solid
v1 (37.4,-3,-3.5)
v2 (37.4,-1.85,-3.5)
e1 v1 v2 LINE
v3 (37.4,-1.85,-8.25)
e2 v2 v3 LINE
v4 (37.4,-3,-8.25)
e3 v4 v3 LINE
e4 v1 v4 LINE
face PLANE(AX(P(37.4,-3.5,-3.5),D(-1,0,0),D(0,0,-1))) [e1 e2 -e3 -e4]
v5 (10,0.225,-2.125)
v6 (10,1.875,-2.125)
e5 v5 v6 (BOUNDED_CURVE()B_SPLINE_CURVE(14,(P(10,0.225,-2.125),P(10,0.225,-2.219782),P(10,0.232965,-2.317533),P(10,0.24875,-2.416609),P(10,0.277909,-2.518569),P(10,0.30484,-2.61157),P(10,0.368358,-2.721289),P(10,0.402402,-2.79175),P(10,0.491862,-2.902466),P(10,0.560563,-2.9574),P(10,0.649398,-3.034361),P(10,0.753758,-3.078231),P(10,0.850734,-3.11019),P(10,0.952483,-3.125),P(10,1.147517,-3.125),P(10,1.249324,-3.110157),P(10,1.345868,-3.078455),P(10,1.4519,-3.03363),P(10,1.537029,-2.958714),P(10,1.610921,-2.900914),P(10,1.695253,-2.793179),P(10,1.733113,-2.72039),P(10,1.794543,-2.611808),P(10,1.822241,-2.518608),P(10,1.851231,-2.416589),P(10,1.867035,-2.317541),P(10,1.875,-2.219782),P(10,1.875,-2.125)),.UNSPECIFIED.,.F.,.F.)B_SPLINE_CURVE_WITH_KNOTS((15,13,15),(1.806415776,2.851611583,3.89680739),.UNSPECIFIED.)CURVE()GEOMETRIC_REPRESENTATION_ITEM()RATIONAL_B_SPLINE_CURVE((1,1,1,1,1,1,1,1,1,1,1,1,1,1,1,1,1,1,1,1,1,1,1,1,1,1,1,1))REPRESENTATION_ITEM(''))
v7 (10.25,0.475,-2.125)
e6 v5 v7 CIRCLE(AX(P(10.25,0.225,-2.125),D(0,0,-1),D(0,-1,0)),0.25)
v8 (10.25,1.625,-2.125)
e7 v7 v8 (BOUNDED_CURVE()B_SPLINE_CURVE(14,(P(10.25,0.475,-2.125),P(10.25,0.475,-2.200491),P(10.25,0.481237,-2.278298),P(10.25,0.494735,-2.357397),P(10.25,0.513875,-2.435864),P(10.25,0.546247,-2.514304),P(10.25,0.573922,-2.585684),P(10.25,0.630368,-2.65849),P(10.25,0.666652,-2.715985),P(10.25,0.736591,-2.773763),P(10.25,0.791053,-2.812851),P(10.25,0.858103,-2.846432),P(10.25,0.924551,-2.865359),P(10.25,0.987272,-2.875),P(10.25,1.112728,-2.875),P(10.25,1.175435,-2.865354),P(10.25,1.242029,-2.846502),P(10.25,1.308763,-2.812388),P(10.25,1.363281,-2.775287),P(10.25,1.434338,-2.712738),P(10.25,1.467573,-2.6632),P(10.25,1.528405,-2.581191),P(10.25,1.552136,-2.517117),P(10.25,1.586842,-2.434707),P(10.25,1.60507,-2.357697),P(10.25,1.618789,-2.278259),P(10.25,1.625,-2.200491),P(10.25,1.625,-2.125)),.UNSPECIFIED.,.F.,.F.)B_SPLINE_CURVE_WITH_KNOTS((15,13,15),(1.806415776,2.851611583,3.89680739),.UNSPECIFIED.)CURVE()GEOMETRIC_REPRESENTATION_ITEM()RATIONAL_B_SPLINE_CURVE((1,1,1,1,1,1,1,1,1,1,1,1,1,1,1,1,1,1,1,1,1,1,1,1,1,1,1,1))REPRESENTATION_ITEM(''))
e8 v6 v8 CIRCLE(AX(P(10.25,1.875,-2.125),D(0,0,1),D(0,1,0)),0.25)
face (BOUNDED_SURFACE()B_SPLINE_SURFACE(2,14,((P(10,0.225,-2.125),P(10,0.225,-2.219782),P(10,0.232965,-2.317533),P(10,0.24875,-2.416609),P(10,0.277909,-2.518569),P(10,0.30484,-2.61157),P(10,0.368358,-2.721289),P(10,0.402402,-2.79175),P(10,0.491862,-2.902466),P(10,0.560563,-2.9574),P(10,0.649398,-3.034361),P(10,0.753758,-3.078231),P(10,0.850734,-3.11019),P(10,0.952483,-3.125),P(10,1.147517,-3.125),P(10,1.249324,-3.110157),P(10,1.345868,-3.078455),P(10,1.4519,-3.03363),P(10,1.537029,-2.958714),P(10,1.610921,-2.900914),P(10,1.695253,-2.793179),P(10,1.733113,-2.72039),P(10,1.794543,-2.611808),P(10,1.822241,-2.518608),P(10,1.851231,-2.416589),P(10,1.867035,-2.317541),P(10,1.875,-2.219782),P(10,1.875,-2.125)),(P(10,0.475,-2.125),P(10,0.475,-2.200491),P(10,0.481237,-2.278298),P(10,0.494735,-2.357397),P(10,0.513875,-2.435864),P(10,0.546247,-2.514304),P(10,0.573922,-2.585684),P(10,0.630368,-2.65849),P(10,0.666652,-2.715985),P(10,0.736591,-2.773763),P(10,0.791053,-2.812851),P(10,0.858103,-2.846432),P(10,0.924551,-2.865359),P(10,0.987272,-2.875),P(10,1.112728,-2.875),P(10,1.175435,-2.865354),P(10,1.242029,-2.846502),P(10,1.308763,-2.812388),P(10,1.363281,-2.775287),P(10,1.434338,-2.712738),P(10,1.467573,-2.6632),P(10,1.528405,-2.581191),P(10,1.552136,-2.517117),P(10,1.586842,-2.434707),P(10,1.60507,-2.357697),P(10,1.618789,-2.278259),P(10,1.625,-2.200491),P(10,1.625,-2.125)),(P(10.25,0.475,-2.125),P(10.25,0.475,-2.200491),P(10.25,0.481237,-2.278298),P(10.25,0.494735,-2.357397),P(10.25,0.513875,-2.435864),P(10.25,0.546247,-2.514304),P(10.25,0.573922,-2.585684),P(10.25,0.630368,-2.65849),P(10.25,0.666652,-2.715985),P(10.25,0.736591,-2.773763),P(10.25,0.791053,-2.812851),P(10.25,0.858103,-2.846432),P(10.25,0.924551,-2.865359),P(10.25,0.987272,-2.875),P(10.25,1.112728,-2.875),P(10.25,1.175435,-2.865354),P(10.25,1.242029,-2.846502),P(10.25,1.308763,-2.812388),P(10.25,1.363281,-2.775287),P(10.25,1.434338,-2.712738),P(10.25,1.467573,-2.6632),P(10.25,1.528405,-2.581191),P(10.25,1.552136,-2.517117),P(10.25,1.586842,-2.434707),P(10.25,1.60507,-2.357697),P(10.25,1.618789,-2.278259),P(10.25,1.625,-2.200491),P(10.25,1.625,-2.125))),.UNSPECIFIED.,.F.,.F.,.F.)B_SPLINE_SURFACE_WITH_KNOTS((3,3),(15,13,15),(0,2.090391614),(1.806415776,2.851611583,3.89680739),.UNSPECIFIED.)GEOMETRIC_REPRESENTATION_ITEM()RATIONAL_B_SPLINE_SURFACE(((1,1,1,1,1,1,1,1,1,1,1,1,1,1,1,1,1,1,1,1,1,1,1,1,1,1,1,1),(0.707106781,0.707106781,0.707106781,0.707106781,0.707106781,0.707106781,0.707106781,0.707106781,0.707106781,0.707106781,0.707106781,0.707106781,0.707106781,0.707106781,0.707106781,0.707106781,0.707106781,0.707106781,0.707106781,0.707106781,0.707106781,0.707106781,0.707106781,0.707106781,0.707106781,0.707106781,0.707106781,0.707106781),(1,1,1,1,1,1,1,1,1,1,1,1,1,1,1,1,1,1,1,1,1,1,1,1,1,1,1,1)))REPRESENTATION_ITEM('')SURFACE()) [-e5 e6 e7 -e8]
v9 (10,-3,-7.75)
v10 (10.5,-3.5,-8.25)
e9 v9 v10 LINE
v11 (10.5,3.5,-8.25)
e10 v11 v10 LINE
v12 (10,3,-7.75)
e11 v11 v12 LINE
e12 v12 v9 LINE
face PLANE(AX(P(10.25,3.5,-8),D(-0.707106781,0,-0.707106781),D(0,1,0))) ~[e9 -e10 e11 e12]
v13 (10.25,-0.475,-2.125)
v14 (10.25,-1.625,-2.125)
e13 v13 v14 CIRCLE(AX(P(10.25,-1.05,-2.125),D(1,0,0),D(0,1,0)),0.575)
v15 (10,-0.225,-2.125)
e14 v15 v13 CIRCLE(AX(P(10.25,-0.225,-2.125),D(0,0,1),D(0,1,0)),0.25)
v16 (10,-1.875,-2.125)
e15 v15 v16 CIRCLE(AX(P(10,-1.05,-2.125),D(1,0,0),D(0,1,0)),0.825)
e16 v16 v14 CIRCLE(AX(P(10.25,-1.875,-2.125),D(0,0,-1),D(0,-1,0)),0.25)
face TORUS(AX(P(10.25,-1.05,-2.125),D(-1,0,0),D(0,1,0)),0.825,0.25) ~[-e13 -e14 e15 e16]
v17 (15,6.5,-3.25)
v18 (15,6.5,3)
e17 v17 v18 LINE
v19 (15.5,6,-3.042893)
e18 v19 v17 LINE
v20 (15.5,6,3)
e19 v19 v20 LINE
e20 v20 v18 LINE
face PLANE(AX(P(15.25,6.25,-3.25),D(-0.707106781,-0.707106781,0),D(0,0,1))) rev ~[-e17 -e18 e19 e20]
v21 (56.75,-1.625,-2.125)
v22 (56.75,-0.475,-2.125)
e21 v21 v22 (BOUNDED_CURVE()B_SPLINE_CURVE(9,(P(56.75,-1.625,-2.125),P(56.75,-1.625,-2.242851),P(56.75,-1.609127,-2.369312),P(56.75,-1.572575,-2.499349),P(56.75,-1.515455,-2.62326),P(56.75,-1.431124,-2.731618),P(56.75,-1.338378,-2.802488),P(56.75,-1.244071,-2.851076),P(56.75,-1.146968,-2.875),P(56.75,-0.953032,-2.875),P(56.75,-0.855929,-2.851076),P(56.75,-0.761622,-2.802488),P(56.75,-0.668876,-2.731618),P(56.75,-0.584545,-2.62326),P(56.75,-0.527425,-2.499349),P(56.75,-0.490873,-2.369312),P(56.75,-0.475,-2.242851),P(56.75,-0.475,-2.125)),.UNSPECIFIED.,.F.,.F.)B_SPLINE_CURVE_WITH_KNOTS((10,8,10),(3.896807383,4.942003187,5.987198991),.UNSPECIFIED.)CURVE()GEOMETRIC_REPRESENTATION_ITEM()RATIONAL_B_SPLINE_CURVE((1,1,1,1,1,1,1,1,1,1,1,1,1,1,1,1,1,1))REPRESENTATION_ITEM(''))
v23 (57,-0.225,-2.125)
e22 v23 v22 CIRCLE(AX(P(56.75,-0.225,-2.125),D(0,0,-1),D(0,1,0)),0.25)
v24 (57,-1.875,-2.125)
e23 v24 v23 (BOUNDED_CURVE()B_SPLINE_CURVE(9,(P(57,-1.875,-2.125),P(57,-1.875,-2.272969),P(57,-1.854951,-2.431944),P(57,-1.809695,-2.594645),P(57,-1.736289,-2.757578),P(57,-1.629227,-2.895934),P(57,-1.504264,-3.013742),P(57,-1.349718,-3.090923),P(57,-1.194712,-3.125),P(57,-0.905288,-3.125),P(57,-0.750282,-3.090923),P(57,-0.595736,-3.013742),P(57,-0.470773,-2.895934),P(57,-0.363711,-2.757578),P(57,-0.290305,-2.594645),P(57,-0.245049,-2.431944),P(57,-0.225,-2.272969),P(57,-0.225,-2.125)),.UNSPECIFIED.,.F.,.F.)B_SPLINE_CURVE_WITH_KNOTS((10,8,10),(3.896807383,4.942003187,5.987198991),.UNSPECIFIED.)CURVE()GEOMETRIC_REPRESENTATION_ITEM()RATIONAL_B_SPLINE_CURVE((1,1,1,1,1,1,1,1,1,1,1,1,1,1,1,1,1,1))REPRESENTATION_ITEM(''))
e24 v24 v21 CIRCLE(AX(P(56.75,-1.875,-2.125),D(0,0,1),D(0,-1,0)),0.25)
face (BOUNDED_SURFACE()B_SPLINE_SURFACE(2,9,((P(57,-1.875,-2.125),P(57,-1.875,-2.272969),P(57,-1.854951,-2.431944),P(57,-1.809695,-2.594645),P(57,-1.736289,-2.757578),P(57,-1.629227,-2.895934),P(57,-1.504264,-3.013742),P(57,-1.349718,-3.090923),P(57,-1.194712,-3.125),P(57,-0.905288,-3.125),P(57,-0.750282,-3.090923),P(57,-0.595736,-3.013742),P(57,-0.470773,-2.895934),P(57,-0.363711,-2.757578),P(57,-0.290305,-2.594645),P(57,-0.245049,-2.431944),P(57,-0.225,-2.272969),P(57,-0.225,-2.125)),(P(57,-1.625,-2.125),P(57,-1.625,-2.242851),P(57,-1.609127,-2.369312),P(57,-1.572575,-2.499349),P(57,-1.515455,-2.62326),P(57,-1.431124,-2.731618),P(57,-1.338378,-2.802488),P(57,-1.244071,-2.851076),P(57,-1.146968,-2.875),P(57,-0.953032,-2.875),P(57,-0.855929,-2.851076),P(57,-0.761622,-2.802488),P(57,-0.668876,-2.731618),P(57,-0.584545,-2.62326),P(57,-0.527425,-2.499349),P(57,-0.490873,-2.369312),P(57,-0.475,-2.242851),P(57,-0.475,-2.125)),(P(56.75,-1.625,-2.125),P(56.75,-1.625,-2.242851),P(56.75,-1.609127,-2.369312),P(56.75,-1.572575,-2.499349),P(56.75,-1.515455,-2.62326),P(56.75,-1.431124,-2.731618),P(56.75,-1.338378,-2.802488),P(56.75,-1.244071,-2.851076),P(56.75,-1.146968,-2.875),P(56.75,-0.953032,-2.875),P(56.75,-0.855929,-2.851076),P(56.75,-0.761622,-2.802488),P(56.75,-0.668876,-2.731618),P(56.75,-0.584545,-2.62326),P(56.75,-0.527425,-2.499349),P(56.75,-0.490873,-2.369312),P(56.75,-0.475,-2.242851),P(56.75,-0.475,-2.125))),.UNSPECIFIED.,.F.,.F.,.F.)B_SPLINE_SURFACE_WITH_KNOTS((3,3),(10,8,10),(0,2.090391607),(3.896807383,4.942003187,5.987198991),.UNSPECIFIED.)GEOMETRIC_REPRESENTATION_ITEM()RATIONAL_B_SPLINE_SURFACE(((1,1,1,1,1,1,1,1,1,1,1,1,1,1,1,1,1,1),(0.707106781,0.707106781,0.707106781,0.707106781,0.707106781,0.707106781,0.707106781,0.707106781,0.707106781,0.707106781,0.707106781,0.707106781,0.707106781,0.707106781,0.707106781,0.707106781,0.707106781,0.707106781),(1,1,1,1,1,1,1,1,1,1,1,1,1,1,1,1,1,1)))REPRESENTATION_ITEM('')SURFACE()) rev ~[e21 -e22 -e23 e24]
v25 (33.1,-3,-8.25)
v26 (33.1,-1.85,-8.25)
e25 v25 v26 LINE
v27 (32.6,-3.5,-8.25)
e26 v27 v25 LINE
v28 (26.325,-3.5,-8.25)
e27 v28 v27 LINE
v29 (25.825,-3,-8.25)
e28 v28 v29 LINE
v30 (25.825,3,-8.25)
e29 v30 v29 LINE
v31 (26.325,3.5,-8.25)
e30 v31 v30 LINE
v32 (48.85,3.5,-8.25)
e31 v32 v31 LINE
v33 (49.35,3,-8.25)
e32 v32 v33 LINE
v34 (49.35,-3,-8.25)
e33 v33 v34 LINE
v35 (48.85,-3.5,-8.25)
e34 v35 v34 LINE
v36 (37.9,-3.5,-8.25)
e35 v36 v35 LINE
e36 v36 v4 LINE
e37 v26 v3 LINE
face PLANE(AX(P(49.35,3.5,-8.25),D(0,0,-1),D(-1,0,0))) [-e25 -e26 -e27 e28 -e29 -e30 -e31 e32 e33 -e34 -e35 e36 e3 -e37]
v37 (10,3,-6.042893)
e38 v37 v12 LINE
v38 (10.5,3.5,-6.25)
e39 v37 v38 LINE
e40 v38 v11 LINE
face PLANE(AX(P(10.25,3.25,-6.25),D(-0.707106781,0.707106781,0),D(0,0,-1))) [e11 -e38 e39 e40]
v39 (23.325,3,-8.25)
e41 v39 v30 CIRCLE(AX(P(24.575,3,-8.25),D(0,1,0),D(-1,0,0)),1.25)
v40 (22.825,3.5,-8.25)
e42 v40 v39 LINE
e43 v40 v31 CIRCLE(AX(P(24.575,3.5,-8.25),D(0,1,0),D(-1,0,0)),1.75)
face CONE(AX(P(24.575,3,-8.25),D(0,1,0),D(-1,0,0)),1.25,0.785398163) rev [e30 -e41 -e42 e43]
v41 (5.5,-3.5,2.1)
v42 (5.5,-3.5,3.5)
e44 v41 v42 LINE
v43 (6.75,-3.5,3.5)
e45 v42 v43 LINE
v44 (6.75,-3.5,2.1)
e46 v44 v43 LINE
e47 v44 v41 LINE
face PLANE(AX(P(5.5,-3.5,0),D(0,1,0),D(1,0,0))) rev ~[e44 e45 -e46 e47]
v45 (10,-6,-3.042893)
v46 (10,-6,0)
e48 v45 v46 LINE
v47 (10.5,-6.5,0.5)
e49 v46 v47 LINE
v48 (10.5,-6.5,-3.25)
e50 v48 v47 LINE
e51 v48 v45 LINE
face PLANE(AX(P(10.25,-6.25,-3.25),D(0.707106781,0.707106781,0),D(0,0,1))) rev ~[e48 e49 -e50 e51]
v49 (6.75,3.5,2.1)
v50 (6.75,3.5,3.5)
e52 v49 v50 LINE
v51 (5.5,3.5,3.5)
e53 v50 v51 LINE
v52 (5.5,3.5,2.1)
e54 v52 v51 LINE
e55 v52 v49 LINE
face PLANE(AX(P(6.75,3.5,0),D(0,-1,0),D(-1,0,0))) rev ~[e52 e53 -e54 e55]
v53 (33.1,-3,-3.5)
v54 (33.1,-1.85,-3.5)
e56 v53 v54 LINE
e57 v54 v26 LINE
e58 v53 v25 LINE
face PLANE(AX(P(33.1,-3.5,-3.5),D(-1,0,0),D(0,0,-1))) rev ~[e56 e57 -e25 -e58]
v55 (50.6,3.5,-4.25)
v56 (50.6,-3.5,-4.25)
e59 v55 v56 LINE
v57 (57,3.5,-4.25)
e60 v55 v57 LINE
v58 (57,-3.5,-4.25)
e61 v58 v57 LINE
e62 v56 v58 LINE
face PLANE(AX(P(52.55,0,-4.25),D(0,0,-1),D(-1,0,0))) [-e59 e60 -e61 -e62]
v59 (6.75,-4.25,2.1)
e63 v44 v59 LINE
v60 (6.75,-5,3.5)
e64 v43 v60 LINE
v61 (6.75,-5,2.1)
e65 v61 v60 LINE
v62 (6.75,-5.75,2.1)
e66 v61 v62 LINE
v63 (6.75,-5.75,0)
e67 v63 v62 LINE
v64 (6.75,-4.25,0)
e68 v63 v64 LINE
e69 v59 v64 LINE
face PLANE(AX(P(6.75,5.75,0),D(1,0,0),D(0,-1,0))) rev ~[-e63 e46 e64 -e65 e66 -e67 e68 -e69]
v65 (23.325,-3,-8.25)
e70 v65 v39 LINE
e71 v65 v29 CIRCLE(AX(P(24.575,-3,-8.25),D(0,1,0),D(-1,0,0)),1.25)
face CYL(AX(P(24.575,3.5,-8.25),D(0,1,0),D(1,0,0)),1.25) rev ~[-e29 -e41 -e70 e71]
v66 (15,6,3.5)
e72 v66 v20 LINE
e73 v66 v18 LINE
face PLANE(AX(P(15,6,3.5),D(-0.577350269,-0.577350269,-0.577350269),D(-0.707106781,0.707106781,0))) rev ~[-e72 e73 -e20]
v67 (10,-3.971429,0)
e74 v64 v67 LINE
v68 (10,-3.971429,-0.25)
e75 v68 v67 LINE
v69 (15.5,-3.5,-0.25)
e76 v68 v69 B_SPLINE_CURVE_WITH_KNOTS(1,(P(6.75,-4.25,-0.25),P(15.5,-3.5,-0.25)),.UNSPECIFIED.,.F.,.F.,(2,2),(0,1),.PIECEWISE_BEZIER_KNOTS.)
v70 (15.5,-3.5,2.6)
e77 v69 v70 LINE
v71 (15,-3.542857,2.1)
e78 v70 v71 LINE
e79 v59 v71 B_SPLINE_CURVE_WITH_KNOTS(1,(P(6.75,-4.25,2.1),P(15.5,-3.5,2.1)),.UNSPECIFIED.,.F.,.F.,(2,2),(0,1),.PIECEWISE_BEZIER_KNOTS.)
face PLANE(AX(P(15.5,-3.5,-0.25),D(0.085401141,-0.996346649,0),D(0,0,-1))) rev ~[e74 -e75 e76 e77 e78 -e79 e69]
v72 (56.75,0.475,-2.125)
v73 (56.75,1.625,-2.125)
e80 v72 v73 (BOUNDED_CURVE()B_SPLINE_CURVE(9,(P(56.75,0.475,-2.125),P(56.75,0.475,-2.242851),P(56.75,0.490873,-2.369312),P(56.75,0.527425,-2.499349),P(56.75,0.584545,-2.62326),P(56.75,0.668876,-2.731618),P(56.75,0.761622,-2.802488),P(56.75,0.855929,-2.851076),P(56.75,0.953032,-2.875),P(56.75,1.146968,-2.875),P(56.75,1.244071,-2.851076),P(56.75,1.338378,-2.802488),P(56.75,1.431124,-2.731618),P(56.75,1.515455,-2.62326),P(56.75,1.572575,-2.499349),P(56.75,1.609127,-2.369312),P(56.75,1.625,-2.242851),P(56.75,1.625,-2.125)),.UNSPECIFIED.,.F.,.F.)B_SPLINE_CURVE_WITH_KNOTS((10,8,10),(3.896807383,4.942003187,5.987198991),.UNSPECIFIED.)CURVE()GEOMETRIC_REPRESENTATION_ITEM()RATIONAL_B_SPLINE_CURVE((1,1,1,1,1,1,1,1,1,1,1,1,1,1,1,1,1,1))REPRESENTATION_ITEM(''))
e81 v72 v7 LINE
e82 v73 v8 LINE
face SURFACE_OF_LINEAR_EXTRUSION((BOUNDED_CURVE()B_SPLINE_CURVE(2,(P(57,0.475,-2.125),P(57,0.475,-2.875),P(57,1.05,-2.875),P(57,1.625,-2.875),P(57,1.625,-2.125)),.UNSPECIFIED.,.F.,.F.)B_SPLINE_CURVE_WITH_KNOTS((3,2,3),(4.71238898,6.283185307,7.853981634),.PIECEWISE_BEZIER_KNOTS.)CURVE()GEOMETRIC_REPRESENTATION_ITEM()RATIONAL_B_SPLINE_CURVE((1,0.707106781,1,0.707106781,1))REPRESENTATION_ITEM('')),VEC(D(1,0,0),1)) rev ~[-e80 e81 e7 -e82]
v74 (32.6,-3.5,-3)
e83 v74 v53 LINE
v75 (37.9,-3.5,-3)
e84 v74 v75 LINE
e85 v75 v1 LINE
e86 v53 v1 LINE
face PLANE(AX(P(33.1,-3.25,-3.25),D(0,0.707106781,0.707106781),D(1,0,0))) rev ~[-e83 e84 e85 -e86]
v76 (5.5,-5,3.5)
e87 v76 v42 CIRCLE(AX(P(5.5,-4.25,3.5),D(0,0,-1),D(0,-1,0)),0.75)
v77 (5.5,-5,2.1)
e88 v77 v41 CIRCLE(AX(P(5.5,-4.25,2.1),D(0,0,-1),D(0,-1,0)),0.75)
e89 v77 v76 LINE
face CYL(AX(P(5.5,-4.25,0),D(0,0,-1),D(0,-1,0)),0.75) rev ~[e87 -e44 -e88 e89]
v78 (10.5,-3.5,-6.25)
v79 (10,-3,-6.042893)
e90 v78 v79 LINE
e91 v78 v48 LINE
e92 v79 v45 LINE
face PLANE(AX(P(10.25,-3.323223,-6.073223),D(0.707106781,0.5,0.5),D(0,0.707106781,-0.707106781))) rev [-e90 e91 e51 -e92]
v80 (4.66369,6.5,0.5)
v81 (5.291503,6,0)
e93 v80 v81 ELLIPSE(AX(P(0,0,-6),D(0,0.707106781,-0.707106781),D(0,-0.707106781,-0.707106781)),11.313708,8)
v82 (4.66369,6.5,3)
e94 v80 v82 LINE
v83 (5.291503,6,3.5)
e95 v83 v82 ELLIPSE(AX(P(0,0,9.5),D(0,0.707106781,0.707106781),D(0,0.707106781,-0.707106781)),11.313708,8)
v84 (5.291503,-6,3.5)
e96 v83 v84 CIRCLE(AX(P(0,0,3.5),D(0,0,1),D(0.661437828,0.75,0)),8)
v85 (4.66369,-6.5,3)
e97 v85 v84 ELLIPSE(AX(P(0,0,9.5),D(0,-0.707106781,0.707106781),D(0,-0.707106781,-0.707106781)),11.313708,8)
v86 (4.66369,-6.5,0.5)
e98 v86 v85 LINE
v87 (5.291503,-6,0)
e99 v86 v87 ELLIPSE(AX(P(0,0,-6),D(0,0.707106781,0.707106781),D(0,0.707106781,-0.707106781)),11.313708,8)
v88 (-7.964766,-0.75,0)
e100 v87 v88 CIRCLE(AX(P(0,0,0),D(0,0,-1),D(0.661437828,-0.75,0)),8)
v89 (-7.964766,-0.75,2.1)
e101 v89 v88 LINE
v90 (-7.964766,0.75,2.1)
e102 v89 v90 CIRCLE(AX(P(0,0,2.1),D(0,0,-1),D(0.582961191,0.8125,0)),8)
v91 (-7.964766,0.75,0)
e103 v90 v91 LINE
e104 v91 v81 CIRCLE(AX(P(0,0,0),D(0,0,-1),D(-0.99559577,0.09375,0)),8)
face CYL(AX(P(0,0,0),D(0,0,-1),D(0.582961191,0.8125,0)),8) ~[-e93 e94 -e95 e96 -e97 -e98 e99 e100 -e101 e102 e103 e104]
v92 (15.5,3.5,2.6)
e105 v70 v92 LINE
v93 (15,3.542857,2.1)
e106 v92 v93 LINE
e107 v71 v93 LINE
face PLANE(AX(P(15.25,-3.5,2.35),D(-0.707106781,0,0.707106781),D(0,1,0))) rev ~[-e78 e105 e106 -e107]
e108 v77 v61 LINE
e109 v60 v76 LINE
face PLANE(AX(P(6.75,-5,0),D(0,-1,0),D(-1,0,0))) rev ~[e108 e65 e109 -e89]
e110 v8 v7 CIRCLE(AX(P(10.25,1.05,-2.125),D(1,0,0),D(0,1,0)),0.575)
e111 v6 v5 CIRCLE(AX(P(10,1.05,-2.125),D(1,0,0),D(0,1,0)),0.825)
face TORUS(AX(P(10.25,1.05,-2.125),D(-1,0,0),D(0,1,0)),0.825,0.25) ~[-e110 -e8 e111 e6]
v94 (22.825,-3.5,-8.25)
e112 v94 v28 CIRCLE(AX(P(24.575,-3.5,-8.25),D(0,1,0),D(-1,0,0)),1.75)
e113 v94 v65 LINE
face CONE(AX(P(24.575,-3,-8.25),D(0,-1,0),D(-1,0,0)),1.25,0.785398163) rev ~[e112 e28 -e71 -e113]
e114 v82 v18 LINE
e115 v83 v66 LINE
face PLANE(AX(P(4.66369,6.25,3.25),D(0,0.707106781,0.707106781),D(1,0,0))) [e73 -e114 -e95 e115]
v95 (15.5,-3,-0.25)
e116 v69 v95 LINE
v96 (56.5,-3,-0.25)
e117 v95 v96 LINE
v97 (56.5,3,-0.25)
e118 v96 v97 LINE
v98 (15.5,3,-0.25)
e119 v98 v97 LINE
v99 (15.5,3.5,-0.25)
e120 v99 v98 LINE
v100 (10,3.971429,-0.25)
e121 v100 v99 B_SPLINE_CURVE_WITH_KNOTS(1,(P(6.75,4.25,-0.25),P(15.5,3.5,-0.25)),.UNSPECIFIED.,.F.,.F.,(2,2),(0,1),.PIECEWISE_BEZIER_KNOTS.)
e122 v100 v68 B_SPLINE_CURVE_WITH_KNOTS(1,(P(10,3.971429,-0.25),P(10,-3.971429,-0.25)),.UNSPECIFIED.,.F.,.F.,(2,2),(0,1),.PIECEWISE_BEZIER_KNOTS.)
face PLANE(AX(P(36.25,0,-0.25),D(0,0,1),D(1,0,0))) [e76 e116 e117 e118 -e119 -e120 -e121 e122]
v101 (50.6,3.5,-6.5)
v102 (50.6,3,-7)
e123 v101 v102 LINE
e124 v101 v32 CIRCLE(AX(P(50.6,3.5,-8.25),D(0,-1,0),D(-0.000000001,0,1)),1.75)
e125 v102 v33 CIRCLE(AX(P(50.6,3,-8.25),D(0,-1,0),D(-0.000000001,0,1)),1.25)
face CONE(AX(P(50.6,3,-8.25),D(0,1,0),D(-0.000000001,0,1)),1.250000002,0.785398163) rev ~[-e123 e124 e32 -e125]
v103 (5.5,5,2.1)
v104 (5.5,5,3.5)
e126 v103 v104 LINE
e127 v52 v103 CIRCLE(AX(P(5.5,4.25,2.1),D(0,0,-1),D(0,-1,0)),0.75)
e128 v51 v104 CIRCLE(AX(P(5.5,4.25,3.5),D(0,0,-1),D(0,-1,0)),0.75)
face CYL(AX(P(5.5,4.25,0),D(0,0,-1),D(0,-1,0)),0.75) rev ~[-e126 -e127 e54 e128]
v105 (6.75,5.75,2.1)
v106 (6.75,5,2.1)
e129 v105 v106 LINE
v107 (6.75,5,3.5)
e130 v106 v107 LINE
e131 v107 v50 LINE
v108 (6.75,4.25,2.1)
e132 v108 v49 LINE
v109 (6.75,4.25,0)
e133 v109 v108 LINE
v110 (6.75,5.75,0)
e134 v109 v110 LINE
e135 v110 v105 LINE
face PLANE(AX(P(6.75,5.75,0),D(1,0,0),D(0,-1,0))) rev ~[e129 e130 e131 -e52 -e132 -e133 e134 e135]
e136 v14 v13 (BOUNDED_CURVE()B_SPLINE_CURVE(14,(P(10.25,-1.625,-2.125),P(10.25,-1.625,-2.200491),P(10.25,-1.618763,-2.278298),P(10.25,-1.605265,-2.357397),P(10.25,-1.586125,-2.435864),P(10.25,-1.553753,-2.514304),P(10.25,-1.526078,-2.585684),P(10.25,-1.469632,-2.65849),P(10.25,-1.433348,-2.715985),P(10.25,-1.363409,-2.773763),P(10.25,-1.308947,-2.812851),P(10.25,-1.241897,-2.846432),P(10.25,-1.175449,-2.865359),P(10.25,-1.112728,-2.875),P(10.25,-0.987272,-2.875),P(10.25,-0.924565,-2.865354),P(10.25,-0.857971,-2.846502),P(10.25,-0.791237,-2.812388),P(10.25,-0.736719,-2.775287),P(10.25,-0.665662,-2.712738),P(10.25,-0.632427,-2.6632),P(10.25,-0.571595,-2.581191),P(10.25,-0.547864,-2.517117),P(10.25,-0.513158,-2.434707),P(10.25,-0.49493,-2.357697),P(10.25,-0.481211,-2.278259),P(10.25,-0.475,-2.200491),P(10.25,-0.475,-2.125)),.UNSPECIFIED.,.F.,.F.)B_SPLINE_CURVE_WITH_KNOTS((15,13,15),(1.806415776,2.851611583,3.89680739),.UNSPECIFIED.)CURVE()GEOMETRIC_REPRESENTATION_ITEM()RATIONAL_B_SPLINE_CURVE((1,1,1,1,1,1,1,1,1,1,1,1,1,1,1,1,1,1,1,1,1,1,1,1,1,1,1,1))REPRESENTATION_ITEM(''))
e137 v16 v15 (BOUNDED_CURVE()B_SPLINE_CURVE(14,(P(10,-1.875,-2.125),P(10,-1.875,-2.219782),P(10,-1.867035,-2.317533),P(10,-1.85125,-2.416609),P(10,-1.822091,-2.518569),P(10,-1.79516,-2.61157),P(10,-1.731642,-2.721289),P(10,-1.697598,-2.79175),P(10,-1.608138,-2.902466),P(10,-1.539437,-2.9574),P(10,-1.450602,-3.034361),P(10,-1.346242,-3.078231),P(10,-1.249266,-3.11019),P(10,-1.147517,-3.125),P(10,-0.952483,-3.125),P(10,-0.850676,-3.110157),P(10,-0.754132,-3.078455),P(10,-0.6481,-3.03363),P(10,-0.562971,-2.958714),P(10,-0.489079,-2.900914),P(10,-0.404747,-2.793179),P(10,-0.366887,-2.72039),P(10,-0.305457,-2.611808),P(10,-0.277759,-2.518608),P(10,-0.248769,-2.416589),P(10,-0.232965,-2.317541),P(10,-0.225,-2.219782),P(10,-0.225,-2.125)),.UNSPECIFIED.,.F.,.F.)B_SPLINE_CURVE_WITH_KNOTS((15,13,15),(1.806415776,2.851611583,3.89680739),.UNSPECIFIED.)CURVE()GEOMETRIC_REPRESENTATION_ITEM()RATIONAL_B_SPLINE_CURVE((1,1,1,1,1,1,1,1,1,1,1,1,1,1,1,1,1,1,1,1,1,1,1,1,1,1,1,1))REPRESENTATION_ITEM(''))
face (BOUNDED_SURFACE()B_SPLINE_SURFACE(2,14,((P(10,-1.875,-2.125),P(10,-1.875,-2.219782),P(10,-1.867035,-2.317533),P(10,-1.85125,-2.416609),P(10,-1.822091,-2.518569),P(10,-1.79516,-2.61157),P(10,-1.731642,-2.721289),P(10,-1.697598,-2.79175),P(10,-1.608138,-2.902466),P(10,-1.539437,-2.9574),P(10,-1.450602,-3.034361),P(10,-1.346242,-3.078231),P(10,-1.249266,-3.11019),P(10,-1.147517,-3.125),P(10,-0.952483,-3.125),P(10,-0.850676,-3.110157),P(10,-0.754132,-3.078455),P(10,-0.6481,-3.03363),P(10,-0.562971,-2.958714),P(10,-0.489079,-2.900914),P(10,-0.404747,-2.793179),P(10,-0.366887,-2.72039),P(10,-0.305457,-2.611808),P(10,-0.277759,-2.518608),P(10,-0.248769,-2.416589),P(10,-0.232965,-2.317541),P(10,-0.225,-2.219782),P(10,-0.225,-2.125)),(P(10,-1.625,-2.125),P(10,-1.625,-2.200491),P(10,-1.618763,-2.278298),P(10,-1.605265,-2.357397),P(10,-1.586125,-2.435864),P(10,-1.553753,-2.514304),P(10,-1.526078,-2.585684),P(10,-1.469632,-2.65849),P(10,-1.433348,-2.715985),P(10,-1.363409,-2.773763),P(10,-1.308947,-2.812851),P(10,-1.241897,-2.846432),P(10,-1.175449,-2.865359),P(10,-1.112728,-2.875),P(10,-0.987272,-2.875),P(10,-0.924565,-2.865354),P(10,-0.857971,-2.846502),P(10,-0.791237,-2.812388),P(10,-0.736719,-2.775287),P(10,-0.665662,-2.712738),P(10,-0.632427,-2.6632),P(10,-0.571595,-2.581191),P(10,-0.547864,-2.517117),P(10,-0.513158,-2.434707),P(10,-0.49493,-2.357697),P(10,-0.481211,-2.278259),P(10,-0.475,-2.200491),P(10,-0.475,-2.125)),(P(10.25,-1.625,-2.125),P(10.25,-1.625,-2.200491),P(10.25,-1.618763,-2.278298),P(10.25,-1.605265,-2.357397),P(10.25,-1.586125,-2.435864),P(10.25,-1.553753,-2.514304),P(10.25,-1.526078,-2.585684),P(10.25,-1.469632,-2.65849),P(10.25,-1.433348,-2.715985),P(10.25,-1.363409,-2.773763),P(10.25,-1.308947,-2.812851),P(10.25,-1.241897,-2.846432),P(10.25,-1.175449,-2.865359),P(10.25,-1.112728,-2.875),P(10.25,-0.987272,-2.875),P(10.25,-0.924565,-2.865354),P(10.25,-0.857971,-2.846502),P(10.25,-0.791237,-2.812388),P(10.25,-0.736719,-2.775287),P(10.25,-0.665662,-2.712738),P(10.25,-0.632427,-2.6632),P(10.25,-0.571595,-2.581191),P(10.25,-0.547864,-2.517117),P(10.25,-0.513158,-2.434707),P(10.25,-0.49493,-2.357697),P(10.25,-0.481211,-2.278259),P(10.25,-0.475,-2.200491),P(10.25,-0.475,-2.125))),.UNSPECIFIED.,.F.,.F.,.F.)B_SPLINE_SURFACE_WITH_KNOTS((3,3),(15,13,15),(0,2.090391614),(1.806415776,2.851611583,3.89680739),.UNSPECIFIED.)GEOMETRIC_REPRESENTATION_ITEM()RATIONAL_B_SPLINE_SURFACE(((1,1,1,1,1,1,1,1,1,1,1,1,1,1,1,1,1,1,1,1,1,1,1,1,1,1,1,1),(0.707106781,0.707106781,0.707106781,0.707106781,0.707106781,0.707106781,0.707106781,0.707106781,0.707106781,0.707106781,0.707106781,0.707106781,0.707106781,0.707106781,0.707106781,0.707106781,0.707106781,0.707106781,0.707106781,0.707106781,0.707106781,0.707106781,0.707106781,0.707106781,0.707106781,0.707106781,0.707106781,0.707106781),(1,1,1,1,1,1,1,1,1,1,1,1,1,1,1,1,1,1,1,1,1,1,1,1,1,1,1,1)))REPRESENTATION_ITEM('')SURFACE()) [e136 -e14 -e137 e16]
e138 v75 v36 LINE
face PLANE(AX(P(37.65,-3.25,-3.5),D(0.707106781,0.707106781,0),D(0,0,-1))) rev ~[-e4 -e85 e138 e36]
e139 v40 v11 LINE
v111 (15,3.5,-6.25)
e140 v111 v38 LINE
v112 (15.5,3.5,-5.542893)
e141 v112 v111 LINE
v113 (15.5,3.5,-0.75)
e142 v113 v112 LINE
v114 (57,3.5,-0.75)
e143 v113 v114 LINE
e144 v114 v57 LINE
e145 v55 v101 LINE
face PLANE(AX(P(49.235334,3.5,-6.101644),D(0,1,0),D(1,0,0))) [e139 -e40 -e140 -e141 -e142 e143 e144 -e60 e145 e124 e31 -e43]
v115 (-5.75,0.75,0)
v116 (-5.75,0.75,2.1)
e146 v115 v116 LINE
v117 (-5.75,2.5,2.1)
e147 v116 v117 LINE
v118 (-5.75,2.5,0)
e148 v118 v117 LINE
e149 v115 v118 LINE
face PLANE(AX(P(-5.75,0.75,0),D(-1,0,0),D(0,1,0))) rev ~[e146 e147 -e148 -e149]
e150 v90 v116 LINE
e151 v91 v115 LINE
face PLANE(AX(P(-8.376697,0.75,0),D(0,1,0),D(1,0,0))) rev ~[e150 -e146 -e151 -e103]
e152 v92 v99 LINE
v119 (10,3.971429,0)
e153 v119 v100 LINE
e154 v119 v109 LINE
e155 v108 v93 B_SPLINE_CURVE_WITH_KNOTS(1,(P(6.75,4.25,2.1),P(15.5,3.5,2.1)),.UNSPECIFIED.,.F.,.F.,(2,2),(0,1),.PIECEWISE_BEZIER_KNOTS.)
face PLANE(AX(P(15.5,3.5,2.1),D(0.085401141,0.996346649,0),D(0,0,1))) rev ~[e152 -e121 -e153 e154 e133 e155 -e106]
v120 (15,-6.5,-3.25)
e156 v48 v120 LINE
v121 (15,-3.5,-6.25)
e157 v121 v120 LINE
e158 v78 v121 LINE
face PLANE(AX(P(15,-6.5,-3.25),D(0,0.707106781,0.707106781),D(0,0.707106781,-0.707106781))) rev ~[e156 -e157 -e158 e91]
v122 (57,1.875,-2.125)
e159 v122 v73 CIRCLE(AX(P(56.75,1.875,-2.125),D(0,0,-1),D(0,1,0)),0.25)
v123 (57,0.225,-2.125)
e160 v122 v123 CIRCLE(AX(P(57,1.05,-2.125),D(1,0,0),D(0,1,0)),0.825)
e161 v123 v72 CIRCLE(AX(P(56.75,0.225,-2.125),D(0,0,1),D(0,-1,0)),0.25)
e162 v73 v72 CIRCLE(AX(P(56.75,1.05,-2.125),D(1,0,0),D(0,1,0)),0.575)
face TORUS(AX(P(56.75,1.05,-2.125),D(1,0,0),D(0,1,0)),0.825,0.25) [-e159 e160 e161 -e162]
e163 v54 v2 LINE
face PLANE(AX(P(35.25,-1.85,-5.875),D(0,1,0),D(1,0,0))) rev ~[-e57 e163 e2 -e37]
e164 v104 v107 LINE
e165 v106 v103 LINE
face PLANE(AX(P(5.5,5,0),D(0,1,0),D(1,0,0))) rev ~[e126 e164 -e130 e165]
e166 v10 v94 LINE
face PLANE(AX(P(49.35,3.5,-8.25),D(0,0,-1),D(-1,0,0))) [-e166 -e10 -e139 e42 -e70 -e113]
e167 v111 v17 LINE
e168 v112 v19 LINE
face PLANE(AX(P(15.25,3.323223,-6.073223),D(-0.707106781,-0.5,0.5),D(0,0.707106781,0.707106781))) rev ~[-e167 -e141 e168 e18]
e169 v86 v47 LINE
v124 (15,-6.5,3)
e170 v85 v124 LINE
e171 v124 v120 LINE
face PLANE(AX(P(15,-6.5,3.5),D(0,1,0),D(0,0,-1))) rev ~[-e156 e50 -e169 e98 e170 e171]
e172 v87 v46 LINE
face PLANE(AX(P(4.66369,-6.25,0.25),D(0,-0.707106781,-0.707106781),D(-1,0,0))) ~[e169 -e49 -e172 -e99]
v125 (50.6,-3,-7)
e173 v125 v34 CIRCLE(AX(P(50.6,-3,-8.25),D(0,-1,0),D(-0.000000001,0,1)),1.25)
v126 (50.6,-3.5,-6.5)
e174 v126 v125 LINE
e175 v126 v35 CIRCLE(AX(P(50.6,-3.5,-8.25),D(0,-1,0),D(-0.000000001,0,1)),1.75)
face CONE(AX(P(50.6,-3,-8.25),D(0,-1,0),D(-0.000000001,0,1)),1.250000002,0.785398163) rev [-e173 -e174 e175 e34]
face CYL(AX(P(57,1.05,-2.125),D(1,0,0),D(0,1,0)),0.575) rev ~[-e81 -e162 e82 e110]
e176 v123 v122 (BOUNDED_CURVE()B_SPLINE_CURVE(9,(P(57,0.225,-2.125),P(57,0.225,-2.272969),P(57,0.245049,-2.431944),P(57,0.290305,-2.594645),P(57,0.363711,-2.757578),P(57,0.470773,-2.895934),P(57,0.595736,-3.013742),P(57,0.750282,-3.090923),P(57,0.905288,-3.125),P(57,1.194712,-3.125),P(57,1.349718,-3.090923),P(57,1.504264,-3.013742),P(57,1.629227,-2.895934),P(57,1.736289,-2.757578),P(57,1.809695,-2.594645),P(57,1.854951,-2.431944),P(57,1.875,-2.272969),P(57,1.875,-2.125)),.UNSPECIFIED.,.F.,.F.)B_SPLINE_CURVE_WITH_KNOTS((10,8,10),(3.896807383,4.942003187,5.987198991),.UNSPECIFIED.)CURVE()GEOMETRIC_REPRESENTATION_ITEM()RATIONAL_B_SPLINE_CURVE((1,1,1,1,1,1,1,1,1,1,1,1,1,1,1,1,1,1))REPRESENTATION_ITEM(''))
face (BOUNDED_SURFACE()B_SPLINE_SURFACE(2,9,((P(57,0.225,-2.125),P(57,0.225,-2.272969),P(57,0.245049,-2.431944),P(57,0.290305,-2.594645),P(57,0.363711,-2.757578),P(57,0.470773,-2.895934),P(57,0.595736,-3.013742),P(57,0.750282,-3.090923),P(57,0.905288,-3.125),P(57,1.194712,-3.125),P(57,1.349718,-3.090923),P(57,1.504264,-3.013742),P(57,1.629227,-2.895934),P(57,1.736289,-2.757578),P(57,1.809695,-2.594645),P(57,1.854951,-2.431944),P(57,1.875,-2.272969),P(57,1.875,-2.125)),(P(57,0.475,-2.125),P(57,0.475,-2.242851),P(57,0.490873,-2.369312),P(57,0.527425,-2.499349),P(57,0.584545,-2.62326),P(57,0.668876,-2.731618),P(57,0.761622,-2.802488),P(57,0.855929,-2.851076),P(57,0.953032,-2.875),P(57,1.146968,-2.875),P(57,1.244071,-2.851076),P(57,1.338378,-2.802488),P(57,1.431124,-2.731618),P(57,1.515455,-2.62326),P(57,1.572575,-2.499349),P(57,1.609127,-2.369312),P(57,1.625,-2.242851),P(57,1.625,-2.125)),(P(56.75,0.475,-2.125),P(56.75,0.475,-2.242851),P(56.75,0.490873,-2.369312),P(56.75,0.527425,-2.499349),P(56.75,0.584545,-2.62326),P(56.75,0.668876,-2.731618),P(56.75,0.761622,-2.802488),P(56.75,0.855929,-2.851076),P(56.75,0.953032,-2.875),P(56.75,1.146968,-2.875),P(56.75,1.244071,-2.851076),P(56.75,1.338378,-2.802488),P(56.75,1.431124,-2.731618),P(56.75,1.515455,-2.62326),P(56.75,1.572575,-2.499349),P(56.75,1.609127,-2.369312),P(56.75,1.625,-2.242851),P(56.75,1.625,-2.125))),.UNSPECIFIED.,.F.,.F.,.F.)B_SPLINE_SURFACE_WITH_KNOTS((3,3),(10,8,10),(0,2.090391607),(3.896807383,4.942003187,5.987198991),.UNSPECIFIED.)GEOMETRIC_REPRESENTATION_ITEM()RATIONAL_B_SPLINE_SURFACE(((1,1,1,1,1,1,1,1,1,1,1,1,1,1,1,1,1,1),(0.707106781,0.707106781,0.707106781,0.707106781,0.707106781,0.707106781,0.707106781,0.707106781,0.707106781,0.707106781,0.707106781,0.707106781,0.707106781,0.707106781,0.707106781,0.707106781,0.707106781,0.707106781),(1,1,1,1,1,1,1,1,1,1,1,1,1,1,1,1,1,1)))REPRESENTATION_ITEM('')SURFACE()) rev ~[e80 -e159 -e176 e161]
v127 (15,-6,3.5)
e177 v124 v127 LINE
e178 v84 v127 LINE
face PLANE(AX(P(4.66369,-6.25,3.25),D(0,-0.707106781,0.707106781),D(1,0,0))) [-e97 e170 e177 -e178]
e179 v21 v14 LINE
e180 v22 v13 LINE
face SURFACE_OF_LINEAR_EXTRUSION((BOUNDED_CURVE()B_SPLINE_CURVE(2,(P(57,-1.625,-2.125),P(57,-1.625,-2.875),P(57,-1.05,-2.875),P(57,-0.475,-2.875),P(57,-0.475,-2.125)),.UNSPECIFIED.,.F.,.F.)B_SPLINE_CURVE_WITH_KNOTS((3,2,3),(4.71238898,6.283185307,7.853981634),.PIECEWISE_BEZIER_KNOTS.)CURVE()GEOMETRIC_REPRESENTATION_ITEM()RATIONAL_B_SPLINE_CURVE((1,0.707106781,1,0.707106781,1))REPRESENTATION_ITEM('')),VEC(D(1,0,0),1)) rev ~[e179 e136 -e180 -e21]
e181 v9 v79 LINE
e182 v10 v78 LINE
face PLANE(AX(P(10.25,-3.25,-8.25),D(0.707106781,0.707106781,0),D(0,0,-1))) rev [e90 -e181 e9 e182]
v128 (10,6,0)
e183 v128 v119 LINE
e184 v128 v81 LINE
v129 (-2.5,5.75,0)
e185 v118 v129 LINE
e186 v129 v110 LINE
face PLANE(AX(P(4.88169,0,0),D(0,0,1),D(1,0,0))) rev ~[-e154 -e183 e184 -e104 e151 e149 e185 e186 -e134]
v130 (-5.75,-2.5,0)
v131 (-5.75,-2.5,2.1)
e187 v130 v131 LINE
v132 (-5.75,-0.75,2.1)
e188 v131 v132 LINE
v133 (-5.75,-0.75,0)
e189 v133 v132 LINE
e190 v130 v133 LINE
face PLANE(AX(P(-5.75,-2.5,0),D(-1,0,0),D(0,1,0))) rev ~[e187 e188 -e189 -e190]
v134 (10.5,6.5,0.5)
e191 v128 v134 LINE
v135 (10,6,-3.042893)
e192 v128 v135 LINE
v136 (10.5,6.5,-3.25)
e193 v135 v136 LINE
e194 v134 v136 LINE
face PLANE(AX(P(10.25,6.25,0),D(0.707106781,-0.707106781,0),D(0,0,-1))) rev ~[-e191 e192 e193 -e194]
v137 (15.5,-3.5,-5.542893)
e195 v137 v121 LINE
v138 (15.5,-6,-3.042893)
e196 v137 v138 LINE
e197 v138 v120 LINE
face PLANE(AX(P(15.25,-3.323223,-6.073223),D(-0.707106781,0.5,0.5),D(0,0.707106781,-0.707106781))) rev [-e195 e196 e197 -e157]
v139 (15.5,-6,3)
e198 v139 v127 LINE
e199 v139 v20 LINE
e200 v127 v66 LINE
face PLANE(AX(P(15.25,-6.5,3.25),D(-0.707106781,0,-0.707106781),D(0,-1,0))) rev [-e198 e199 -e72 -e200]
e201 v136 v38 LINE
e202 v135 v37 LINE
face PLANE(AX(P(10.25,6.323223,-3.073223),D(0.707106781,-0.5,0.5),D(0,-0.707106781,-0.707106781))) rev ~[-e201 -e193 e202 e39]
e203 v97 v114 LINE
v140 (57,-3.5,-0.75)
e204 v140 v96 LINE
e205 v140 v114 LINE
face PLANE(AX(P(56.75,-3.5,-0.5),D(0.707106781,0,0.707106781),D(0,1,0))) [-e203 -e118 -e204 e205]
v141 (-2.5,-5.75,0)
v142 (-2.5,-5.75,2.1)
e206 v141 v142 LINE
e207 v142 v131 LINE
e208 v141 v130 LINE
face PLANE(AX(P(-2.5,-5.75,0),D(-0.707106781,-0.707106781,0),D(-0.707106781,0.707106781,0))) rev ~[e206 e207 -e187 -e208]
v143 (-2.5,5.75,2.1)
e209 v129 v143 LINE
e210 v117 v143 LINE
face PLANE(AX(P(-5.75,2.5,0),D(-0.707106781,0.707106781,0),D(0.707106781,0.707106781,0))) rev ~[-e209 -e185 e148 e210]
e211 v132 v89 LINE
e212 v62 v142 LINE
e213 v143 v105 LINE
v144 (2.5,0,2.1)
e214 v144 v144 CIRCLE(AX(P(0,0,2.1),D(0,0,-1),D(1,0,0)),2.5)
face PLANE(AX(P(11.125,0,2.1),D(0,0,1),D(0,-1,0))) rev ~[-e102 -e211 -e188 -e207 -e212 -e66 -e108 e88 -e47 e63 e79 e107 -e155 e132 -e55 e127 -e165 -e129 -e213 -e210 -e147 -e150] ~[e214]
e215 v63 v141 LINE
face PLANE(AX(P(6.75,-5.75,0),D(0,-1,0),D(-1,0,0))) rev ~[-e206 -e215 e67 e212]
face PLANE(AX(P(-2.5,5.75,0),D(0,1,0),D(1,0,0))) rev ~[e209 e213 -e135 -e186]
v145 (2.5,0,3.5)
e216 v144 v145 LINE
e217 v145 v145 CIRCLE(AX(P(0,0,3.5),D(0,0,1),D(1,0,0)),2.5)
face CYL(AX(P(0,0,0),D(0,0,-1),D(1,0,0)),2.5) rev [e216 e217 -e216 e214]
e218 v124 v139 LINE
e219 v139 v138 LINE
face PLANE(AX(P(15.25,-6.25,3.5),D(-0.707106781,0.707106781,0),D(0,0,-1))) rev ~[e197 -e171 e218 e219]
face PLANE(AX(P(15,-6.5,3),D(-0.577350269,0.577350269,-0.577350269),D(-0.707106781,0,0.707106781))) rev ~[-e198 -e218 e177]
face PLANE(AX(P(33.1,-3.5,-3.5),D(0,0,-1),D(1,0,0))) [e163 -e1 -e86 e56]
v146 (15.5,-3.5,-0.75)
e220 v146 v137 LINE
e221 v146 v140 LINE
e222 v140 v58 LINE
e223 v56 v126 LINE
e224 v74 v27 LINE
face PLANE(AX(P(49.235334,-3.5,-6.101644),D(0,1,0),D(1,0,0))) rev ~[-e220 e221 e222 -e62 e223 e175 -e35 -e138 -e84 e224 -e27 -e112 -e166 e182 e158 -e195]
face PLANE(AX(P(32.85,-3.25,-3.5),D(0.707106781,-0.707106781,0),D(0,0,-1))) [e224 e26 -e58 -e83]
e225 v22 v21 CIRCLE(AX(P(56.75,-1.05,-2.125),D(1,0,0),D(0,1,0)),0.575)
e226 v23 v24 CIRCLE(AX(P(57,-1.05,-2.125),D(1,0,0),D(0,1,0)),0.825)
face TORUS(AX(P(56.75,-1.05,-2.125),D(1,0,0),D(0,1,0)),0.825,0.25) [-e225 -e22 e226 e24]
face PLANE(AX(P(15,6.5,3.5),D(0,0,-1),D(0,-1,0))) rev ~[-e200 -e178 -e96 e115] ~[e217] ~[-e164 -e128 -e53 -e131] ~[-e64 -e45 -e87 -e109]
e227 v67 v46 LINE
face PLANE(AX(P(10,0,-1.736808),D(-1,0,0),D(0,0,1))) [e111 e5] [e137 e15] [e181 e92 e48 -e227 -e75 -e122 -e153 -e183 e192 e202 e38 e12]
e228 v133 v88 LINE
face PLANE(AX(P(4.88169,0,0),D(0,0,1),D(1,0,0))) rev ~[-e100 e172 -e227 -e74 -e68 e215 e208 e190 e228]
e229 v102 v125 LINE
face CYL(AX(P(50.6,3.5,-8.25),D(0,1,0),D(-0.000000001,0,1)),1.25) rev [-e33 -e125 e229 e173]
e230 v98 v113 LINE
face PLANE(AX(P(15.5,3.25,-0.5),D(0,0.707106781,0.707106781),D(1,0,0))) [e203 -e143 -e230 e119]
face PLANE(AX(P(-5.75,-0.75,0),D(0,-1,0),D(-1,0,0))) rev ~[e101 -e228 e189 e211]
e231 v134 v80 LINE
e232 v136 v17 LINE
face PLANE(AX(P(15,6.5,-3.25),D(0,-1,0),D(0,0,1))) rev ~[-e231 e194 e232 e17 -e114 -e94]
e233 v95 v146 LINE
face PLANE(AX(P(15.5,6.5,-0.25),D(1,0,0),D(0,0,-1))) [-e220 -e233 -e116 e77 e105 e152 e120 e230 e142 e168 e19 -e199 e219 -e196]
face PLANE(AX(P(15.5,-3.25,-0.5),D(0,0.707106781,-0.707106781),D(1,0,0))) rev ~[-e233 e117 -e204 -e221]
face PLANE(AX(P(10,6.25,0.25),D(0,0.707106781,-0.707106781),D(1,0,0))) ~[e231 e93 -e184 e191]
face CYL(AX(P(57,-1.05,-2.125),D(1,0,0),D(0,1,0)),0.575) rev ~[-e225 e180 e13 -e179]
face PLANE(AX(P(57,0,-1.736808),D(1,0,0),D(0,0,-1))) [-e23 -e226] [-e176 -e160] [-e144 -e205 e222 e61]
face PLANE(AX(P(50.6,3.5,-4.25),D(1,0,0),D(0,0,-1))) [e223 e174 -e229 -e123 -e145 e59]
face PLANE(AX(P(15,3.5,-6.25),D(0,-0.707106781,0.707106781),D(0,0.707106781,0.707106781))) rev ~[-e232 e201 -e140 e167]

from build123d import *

# Parameters (mm, degrees)
SKETCH1_R            = 2.5
BOSS_EXTRUDE1_DEPTH  = 3.5
CUT_EXTRUDE17_DEPTH  = 2.1
BOSS_EXTRUDE11_DEPTH = 5
BOSS_EXTRUDE4_DEPTH  = 42
SKETCH7_W            = 8.9
SKETCH7_H            = 13
CUT_EXTRUDE2_DEPTH   = 4
SKETCH22_W           = 41.5
SKETCH22_H           = 13
CUT_EXTRUDE13_DEPTH  = 3.75
SKETCH23_W           = 41.5
SKETCH23_H           = 8
CUT_EXTRUDE14_DEPTH  = 3
CUT_EXTRUDE11_DEPTH  = 67.008048752
BOSS_EXTRUDE12_DEPTH = 7
SKETCH24_R           = 1.25
CUT_EXTRUDE15_DEPTH  = 59.730848053
SKETCH26_W           = 4.3
SKETCH26_H           = 4.75
CUT_EXTRUDE16_DEPTH  = 1.65
FILLET8_R            = 0.25
CHAMFER1_SIZE        = 0.5


with BuildPart() as part:
    # Sketch1 → Boss-Extrude1 (new body)
    with BuildSketch(Plane.XY):
        with BuildLine():
            ThreePointArc((4.663689527, 6.5), (-8, 0), (4.663689527, -6.5))
            Line((4.663689527, -6.5), (15, -6.5))
            Line((15, -6.5), (15, 6.5))
            Line((15, 6.5), (4.663689527, 6.5))
        make_face()
        with BuildLine():
            Line((5.5, 5), (6.75, 5))
            Line((6.75, 5), (6.75, 3.5))
            Line((6.75, 3.5), (5.5, 3.5))
            ThreePointArc((5.5, 3.5), (4.75, 4.25), (5.5, 5))
        make_face(mode=Mode.SUBTRACT)
        with BuildLine():
            Line((6.75, -3.5), (6.75, -5))
            Line((6.75, -5), (5.5, -5))
            ThreePointArc((5.5, -5), (4.75, -4.25), (5.5, -3.5))
            Line((5.5, -3.5), (6.75, -3.5))
        make_face(mode=Mode.SUBTRACT)
        Circle(SKETCH1_R, mode=Mode.SUBTRACT)
    extrude(amount=BOSS_EXTRUDE1_DEPTH)

    # Sketch39 → Cut-Extrude17 (cut)
    with BuildSketch(Plane(origin=(0, 0, 0), x_dir=(-1, 0, 0), z_dir=(0, 0, -1))):
        Polygon((5.75, 0.75), (5.75, 2.5), (2.5, 5.75), (-6.75, 5.75), (-6.75, -5.75), (2.5, -5.75), (5.75, -2.5), (5.75, -0.75), (8.376697216, -0.75), (8.376697216, 0.75), align=None)
    extrude(amount=-CUT_EXTRUDE17_DEPTH, mode=Mode.SUBTRACT)

    # Sketch38 → Boss-Extrude11 (add)
    with BuildSketch(Plane(origin=(15, 0, 0), x_dir=(0, 0, -1), z_dir=(1, 0, 0))):
        Polygon((-3.5, 6.5), (3.25, 6.5), (6.25, 3.5), (8.25, 3.5), (8.25, -3.5), (6.25, -3.5), (3.25, -6.5), (-3.5, -6.5), align=None)
    extrude(amount=-BOSS_EXTRUDE11_DEPTH)

    # Sketch6 → Boss-Extrude4 (add)
    with BuildSketch(Plane(origin=(15, 0, 0), x_dir=(0, 0, -1), z_dir=(1, 0, 0))):
        Polygon((6.25, 3.5), (3.25, 6.5), (-3.5, 6.5), (-3.5, -6.5), (3.25, -6.5), (6.25, -3.5), (8.25, -3.5), (8.25, 3.5), align=None)
    extrude(amount=BOSS_EXTRUDE4_DEPTH)

    # Sketch7 → Cut-Extrude2 (cut)
    with BuildSketch(Plane(origin=(0, 0, -8.25), x_dir=(-1, 0, 0), z_dir=(0, 0, -1))):
        with Locations((-52.55, 0)):
            Rectangle(SKETCH7_W, SKETCH7_H)
    extrude(amount=-CUT_EXTRUDE2_DEPTH, mode=Mode.SUBTRACT)

    # Sketch22 → Cut-Extrude13 (cut)
    with BuildSketch(Plane.XY.offset(3.5)):
        with Locations((36.25, 0)):
            Rectangle(SKETCH22_W, SKETCH22_H)
    extrude(amount=-CUT_EXTRUDE13_DEPTH, mode=Mode.SUBTRACT)

    # Sketch23 → Cut-Extrude14 (cut)
    with BuildSketch(Plane(origin=(0, 6.5, 0), x_dir=(1, 0, 0), z_dir=(0, 1, 0))):
        with Locations((36.25, 4.25)):
            Rectangle(SKETCH23_W, SKETCH23_H)
    cut_extrude14 = extrude(amount=-CUT_EXTRUDE14_DEPTH, mode=Mode.SUBTRACT)

    # Mirror1: Cut-Extrude14 across plane
    add(cut_extrude14.mirror(Plane.ZX), mode=Mode.SUBTRACT)

    # Sketch19 → Cut-Extrude11 (cut, through all)
    with BuildSketch(Plane(origin=(57, 0, 0), x_dir=(0, 0, -1), z_dir=(1, 0, 0))):
        with BuildLine():
            ThreePointArc((2.125, -0.475), (1.55, -1.05), (2.125, -1.625))
            add(Edge.make_bspline(
                [(2.125, -1.625), (2.875, -1.625), (2.875, -1.05), (2.875, -0.475), (2.125, -0.475)],
                knots=[4.71238898, 4.71238898, 4.71238898, 6.283185307, 6.283185307, 7.853981634, 7.853981634, 7.853981634], degree=2, weights=[1, 0.707106781, 1, 0.707106781, 1]))
        make_face()
        with BuildLine():
            ThreePointArc((2.125, 1.625), (1.55, 1.05), (2.125, 0.475))
            add(Edge.make_bspline(
                [(2.125, 0.475), (2.875, 0.475), (2.875, 1.05), (2.875, 1.625), (2.125, 1.625)],
                knots=[4.71238898, 4.71238898, 4.71238898, 6.283185307, 6.283185307, 7.853981634, 7.853981634, 7.853981634], degree=2, weights=[1, 0.707106781, 1, 0.707106781, 1]))
        make_face()
    extrude(amount=-CUT_EXTRUDE11_DEPTH, mode=Mode.SUBTRACT)

    # Sketch25 → Boss-Extrude12 (add)
    with BuildSketch(Plane(origin=(0, 3.5, 0), x_dir=(1, 0, 0), z_dir=(0, 1, 0))):
        with BuildLine():
            Line((48.1, 4.25), (50.6, 4.25))
            Line((50.6, 4.25), (50.6, 7))
            ThreePointArc((50.6, 7), (49.716116524, 7.366116524), (49.35, 8.25))
            Line((49.35, 8.25), (48.1, 8.25))
            Line((48.1, 8.25), (48.1, 4.25))
        make_face()
    extrude(amount=-BOSS_EXTRUDE12_DEPTH)

    # Sketch24 → Cut-Extrude15 (cut, through all)
    with BuildSketch(Plane(origin=(0, 3.5, 0), x_dir=(1, 0, 0), z_dir=(0, 1, 0))):
        with Locations((24.575, 8.25)):
            Circle(SKETCH24_R)
    extrude(amount=-CUT_EXTRUDE15_DEPTH, mode=Mode.SUBTRACT)

    # Sketch26 → Cut-Extrude16 (cut)
    with BuildSketch(Plane(origin=(0, -3.5, 0), x_dir=(1, 0, 0), z_dir=(0, 1, 0))):
        with Locations((35.25, 5.875)):
            Rectangle(SKETCH26_W, SKETCH26_H)
    extrude(amount=CUT_EXTRUDE16_DEPTH, mode=Mode.SUBTRACT)

    # Fillet8
    fillet8_edges = [part.edges().sort_by_distance(p)[0] for p in [
        (10, 1.05, -1.55),
        (10, 1.05, -2.875),
        (10, -1.05, -1.55),
        (10, -1.05, -2.875),
        (57, -1.05, -2.875),
        (57, -1.05, -1.55),
        (57, 1.05, -2.875),
        (57, 1.05, -1.55),
    ]]
    fillet(fillet8_edges, radius=FILLET8_R)

    # Sketch41 → Cut-Loft1 section 0
    with BuildSketch(Plane.ZY.offset(-6.75)):
        with BuildLine():
            Line((2.1, -4.25), (-0.25, -4.25))
            Line((-0.25, -4.25), (-0.25, 4.25))
            Line((-0.25, 4.25), (2.1, 4.25))
            Line((2.1, 4.25), (2.1, -4.25))
        make_face()
    # Sketch40 → Cut-Loft1 section 1
    with BuildSketch(Plane(origin=(15.5, 0, 0), x_dir=(0, 0, -1), z_dir=(1, 0, 0))):
        with BuildLine():
            Line((-2.1, 3.5), (0.25, 3.5))
            Line((0.25, 3.5), (0.25, -3.5))
            Line((0.25, -3.5), (-2.1, -3.5))
            Line((-2.1, -3.5), (-2.1, 3.5))
        make_face()
    loft(mode=Mode.SUBTRACT)

    # Chamfer1
    chamfer1_edges = [part.edges().sort_by_distance(p)[0] for p in [
        (10, 6.5, -1.625),
        (10, 5, -4.75),
        (10, 3.5, -7.25),
        (10, 0, -8.25),
        (10, -3.5, -7.25),
        (10, -5, -4.75),
        (10, -6.5, -1.625),
        (15.5, 0, 2.1),
        (15.5, -5, -4.75),
        (15.5, 5, -4.75),
        (15.5, 6.5, 0.125),
        (15.5, 0, 3.5),
        (15.5, -6.5, 0.125),
        (36.25, 3.5, -0.25),
        (57, 0, -0.25),
        (36.25, -3.5, -0.25),
        (33.1, -3.5, -5.875),
        (35.25, -3.5, -3.5),
        (37.4, -3.5, -5.875),
        (49.716116524, -3.5, -7.366116524),
        (49.716116524, 3.5, -7.366116524),
        (24.575, 3.5, -7),
        (24.575, -3.5, -7),
        (7.331844763, -6.5, 0),
        (7.331844763, 6.5, 0),
        (10.081844763, -6.5, 3.5),
        (10.081844763, 6.5, 3.5),
    ]]
    chamfer(chamfer1_edges, length=CHAMFER1_SIZE)


solid = part.part
